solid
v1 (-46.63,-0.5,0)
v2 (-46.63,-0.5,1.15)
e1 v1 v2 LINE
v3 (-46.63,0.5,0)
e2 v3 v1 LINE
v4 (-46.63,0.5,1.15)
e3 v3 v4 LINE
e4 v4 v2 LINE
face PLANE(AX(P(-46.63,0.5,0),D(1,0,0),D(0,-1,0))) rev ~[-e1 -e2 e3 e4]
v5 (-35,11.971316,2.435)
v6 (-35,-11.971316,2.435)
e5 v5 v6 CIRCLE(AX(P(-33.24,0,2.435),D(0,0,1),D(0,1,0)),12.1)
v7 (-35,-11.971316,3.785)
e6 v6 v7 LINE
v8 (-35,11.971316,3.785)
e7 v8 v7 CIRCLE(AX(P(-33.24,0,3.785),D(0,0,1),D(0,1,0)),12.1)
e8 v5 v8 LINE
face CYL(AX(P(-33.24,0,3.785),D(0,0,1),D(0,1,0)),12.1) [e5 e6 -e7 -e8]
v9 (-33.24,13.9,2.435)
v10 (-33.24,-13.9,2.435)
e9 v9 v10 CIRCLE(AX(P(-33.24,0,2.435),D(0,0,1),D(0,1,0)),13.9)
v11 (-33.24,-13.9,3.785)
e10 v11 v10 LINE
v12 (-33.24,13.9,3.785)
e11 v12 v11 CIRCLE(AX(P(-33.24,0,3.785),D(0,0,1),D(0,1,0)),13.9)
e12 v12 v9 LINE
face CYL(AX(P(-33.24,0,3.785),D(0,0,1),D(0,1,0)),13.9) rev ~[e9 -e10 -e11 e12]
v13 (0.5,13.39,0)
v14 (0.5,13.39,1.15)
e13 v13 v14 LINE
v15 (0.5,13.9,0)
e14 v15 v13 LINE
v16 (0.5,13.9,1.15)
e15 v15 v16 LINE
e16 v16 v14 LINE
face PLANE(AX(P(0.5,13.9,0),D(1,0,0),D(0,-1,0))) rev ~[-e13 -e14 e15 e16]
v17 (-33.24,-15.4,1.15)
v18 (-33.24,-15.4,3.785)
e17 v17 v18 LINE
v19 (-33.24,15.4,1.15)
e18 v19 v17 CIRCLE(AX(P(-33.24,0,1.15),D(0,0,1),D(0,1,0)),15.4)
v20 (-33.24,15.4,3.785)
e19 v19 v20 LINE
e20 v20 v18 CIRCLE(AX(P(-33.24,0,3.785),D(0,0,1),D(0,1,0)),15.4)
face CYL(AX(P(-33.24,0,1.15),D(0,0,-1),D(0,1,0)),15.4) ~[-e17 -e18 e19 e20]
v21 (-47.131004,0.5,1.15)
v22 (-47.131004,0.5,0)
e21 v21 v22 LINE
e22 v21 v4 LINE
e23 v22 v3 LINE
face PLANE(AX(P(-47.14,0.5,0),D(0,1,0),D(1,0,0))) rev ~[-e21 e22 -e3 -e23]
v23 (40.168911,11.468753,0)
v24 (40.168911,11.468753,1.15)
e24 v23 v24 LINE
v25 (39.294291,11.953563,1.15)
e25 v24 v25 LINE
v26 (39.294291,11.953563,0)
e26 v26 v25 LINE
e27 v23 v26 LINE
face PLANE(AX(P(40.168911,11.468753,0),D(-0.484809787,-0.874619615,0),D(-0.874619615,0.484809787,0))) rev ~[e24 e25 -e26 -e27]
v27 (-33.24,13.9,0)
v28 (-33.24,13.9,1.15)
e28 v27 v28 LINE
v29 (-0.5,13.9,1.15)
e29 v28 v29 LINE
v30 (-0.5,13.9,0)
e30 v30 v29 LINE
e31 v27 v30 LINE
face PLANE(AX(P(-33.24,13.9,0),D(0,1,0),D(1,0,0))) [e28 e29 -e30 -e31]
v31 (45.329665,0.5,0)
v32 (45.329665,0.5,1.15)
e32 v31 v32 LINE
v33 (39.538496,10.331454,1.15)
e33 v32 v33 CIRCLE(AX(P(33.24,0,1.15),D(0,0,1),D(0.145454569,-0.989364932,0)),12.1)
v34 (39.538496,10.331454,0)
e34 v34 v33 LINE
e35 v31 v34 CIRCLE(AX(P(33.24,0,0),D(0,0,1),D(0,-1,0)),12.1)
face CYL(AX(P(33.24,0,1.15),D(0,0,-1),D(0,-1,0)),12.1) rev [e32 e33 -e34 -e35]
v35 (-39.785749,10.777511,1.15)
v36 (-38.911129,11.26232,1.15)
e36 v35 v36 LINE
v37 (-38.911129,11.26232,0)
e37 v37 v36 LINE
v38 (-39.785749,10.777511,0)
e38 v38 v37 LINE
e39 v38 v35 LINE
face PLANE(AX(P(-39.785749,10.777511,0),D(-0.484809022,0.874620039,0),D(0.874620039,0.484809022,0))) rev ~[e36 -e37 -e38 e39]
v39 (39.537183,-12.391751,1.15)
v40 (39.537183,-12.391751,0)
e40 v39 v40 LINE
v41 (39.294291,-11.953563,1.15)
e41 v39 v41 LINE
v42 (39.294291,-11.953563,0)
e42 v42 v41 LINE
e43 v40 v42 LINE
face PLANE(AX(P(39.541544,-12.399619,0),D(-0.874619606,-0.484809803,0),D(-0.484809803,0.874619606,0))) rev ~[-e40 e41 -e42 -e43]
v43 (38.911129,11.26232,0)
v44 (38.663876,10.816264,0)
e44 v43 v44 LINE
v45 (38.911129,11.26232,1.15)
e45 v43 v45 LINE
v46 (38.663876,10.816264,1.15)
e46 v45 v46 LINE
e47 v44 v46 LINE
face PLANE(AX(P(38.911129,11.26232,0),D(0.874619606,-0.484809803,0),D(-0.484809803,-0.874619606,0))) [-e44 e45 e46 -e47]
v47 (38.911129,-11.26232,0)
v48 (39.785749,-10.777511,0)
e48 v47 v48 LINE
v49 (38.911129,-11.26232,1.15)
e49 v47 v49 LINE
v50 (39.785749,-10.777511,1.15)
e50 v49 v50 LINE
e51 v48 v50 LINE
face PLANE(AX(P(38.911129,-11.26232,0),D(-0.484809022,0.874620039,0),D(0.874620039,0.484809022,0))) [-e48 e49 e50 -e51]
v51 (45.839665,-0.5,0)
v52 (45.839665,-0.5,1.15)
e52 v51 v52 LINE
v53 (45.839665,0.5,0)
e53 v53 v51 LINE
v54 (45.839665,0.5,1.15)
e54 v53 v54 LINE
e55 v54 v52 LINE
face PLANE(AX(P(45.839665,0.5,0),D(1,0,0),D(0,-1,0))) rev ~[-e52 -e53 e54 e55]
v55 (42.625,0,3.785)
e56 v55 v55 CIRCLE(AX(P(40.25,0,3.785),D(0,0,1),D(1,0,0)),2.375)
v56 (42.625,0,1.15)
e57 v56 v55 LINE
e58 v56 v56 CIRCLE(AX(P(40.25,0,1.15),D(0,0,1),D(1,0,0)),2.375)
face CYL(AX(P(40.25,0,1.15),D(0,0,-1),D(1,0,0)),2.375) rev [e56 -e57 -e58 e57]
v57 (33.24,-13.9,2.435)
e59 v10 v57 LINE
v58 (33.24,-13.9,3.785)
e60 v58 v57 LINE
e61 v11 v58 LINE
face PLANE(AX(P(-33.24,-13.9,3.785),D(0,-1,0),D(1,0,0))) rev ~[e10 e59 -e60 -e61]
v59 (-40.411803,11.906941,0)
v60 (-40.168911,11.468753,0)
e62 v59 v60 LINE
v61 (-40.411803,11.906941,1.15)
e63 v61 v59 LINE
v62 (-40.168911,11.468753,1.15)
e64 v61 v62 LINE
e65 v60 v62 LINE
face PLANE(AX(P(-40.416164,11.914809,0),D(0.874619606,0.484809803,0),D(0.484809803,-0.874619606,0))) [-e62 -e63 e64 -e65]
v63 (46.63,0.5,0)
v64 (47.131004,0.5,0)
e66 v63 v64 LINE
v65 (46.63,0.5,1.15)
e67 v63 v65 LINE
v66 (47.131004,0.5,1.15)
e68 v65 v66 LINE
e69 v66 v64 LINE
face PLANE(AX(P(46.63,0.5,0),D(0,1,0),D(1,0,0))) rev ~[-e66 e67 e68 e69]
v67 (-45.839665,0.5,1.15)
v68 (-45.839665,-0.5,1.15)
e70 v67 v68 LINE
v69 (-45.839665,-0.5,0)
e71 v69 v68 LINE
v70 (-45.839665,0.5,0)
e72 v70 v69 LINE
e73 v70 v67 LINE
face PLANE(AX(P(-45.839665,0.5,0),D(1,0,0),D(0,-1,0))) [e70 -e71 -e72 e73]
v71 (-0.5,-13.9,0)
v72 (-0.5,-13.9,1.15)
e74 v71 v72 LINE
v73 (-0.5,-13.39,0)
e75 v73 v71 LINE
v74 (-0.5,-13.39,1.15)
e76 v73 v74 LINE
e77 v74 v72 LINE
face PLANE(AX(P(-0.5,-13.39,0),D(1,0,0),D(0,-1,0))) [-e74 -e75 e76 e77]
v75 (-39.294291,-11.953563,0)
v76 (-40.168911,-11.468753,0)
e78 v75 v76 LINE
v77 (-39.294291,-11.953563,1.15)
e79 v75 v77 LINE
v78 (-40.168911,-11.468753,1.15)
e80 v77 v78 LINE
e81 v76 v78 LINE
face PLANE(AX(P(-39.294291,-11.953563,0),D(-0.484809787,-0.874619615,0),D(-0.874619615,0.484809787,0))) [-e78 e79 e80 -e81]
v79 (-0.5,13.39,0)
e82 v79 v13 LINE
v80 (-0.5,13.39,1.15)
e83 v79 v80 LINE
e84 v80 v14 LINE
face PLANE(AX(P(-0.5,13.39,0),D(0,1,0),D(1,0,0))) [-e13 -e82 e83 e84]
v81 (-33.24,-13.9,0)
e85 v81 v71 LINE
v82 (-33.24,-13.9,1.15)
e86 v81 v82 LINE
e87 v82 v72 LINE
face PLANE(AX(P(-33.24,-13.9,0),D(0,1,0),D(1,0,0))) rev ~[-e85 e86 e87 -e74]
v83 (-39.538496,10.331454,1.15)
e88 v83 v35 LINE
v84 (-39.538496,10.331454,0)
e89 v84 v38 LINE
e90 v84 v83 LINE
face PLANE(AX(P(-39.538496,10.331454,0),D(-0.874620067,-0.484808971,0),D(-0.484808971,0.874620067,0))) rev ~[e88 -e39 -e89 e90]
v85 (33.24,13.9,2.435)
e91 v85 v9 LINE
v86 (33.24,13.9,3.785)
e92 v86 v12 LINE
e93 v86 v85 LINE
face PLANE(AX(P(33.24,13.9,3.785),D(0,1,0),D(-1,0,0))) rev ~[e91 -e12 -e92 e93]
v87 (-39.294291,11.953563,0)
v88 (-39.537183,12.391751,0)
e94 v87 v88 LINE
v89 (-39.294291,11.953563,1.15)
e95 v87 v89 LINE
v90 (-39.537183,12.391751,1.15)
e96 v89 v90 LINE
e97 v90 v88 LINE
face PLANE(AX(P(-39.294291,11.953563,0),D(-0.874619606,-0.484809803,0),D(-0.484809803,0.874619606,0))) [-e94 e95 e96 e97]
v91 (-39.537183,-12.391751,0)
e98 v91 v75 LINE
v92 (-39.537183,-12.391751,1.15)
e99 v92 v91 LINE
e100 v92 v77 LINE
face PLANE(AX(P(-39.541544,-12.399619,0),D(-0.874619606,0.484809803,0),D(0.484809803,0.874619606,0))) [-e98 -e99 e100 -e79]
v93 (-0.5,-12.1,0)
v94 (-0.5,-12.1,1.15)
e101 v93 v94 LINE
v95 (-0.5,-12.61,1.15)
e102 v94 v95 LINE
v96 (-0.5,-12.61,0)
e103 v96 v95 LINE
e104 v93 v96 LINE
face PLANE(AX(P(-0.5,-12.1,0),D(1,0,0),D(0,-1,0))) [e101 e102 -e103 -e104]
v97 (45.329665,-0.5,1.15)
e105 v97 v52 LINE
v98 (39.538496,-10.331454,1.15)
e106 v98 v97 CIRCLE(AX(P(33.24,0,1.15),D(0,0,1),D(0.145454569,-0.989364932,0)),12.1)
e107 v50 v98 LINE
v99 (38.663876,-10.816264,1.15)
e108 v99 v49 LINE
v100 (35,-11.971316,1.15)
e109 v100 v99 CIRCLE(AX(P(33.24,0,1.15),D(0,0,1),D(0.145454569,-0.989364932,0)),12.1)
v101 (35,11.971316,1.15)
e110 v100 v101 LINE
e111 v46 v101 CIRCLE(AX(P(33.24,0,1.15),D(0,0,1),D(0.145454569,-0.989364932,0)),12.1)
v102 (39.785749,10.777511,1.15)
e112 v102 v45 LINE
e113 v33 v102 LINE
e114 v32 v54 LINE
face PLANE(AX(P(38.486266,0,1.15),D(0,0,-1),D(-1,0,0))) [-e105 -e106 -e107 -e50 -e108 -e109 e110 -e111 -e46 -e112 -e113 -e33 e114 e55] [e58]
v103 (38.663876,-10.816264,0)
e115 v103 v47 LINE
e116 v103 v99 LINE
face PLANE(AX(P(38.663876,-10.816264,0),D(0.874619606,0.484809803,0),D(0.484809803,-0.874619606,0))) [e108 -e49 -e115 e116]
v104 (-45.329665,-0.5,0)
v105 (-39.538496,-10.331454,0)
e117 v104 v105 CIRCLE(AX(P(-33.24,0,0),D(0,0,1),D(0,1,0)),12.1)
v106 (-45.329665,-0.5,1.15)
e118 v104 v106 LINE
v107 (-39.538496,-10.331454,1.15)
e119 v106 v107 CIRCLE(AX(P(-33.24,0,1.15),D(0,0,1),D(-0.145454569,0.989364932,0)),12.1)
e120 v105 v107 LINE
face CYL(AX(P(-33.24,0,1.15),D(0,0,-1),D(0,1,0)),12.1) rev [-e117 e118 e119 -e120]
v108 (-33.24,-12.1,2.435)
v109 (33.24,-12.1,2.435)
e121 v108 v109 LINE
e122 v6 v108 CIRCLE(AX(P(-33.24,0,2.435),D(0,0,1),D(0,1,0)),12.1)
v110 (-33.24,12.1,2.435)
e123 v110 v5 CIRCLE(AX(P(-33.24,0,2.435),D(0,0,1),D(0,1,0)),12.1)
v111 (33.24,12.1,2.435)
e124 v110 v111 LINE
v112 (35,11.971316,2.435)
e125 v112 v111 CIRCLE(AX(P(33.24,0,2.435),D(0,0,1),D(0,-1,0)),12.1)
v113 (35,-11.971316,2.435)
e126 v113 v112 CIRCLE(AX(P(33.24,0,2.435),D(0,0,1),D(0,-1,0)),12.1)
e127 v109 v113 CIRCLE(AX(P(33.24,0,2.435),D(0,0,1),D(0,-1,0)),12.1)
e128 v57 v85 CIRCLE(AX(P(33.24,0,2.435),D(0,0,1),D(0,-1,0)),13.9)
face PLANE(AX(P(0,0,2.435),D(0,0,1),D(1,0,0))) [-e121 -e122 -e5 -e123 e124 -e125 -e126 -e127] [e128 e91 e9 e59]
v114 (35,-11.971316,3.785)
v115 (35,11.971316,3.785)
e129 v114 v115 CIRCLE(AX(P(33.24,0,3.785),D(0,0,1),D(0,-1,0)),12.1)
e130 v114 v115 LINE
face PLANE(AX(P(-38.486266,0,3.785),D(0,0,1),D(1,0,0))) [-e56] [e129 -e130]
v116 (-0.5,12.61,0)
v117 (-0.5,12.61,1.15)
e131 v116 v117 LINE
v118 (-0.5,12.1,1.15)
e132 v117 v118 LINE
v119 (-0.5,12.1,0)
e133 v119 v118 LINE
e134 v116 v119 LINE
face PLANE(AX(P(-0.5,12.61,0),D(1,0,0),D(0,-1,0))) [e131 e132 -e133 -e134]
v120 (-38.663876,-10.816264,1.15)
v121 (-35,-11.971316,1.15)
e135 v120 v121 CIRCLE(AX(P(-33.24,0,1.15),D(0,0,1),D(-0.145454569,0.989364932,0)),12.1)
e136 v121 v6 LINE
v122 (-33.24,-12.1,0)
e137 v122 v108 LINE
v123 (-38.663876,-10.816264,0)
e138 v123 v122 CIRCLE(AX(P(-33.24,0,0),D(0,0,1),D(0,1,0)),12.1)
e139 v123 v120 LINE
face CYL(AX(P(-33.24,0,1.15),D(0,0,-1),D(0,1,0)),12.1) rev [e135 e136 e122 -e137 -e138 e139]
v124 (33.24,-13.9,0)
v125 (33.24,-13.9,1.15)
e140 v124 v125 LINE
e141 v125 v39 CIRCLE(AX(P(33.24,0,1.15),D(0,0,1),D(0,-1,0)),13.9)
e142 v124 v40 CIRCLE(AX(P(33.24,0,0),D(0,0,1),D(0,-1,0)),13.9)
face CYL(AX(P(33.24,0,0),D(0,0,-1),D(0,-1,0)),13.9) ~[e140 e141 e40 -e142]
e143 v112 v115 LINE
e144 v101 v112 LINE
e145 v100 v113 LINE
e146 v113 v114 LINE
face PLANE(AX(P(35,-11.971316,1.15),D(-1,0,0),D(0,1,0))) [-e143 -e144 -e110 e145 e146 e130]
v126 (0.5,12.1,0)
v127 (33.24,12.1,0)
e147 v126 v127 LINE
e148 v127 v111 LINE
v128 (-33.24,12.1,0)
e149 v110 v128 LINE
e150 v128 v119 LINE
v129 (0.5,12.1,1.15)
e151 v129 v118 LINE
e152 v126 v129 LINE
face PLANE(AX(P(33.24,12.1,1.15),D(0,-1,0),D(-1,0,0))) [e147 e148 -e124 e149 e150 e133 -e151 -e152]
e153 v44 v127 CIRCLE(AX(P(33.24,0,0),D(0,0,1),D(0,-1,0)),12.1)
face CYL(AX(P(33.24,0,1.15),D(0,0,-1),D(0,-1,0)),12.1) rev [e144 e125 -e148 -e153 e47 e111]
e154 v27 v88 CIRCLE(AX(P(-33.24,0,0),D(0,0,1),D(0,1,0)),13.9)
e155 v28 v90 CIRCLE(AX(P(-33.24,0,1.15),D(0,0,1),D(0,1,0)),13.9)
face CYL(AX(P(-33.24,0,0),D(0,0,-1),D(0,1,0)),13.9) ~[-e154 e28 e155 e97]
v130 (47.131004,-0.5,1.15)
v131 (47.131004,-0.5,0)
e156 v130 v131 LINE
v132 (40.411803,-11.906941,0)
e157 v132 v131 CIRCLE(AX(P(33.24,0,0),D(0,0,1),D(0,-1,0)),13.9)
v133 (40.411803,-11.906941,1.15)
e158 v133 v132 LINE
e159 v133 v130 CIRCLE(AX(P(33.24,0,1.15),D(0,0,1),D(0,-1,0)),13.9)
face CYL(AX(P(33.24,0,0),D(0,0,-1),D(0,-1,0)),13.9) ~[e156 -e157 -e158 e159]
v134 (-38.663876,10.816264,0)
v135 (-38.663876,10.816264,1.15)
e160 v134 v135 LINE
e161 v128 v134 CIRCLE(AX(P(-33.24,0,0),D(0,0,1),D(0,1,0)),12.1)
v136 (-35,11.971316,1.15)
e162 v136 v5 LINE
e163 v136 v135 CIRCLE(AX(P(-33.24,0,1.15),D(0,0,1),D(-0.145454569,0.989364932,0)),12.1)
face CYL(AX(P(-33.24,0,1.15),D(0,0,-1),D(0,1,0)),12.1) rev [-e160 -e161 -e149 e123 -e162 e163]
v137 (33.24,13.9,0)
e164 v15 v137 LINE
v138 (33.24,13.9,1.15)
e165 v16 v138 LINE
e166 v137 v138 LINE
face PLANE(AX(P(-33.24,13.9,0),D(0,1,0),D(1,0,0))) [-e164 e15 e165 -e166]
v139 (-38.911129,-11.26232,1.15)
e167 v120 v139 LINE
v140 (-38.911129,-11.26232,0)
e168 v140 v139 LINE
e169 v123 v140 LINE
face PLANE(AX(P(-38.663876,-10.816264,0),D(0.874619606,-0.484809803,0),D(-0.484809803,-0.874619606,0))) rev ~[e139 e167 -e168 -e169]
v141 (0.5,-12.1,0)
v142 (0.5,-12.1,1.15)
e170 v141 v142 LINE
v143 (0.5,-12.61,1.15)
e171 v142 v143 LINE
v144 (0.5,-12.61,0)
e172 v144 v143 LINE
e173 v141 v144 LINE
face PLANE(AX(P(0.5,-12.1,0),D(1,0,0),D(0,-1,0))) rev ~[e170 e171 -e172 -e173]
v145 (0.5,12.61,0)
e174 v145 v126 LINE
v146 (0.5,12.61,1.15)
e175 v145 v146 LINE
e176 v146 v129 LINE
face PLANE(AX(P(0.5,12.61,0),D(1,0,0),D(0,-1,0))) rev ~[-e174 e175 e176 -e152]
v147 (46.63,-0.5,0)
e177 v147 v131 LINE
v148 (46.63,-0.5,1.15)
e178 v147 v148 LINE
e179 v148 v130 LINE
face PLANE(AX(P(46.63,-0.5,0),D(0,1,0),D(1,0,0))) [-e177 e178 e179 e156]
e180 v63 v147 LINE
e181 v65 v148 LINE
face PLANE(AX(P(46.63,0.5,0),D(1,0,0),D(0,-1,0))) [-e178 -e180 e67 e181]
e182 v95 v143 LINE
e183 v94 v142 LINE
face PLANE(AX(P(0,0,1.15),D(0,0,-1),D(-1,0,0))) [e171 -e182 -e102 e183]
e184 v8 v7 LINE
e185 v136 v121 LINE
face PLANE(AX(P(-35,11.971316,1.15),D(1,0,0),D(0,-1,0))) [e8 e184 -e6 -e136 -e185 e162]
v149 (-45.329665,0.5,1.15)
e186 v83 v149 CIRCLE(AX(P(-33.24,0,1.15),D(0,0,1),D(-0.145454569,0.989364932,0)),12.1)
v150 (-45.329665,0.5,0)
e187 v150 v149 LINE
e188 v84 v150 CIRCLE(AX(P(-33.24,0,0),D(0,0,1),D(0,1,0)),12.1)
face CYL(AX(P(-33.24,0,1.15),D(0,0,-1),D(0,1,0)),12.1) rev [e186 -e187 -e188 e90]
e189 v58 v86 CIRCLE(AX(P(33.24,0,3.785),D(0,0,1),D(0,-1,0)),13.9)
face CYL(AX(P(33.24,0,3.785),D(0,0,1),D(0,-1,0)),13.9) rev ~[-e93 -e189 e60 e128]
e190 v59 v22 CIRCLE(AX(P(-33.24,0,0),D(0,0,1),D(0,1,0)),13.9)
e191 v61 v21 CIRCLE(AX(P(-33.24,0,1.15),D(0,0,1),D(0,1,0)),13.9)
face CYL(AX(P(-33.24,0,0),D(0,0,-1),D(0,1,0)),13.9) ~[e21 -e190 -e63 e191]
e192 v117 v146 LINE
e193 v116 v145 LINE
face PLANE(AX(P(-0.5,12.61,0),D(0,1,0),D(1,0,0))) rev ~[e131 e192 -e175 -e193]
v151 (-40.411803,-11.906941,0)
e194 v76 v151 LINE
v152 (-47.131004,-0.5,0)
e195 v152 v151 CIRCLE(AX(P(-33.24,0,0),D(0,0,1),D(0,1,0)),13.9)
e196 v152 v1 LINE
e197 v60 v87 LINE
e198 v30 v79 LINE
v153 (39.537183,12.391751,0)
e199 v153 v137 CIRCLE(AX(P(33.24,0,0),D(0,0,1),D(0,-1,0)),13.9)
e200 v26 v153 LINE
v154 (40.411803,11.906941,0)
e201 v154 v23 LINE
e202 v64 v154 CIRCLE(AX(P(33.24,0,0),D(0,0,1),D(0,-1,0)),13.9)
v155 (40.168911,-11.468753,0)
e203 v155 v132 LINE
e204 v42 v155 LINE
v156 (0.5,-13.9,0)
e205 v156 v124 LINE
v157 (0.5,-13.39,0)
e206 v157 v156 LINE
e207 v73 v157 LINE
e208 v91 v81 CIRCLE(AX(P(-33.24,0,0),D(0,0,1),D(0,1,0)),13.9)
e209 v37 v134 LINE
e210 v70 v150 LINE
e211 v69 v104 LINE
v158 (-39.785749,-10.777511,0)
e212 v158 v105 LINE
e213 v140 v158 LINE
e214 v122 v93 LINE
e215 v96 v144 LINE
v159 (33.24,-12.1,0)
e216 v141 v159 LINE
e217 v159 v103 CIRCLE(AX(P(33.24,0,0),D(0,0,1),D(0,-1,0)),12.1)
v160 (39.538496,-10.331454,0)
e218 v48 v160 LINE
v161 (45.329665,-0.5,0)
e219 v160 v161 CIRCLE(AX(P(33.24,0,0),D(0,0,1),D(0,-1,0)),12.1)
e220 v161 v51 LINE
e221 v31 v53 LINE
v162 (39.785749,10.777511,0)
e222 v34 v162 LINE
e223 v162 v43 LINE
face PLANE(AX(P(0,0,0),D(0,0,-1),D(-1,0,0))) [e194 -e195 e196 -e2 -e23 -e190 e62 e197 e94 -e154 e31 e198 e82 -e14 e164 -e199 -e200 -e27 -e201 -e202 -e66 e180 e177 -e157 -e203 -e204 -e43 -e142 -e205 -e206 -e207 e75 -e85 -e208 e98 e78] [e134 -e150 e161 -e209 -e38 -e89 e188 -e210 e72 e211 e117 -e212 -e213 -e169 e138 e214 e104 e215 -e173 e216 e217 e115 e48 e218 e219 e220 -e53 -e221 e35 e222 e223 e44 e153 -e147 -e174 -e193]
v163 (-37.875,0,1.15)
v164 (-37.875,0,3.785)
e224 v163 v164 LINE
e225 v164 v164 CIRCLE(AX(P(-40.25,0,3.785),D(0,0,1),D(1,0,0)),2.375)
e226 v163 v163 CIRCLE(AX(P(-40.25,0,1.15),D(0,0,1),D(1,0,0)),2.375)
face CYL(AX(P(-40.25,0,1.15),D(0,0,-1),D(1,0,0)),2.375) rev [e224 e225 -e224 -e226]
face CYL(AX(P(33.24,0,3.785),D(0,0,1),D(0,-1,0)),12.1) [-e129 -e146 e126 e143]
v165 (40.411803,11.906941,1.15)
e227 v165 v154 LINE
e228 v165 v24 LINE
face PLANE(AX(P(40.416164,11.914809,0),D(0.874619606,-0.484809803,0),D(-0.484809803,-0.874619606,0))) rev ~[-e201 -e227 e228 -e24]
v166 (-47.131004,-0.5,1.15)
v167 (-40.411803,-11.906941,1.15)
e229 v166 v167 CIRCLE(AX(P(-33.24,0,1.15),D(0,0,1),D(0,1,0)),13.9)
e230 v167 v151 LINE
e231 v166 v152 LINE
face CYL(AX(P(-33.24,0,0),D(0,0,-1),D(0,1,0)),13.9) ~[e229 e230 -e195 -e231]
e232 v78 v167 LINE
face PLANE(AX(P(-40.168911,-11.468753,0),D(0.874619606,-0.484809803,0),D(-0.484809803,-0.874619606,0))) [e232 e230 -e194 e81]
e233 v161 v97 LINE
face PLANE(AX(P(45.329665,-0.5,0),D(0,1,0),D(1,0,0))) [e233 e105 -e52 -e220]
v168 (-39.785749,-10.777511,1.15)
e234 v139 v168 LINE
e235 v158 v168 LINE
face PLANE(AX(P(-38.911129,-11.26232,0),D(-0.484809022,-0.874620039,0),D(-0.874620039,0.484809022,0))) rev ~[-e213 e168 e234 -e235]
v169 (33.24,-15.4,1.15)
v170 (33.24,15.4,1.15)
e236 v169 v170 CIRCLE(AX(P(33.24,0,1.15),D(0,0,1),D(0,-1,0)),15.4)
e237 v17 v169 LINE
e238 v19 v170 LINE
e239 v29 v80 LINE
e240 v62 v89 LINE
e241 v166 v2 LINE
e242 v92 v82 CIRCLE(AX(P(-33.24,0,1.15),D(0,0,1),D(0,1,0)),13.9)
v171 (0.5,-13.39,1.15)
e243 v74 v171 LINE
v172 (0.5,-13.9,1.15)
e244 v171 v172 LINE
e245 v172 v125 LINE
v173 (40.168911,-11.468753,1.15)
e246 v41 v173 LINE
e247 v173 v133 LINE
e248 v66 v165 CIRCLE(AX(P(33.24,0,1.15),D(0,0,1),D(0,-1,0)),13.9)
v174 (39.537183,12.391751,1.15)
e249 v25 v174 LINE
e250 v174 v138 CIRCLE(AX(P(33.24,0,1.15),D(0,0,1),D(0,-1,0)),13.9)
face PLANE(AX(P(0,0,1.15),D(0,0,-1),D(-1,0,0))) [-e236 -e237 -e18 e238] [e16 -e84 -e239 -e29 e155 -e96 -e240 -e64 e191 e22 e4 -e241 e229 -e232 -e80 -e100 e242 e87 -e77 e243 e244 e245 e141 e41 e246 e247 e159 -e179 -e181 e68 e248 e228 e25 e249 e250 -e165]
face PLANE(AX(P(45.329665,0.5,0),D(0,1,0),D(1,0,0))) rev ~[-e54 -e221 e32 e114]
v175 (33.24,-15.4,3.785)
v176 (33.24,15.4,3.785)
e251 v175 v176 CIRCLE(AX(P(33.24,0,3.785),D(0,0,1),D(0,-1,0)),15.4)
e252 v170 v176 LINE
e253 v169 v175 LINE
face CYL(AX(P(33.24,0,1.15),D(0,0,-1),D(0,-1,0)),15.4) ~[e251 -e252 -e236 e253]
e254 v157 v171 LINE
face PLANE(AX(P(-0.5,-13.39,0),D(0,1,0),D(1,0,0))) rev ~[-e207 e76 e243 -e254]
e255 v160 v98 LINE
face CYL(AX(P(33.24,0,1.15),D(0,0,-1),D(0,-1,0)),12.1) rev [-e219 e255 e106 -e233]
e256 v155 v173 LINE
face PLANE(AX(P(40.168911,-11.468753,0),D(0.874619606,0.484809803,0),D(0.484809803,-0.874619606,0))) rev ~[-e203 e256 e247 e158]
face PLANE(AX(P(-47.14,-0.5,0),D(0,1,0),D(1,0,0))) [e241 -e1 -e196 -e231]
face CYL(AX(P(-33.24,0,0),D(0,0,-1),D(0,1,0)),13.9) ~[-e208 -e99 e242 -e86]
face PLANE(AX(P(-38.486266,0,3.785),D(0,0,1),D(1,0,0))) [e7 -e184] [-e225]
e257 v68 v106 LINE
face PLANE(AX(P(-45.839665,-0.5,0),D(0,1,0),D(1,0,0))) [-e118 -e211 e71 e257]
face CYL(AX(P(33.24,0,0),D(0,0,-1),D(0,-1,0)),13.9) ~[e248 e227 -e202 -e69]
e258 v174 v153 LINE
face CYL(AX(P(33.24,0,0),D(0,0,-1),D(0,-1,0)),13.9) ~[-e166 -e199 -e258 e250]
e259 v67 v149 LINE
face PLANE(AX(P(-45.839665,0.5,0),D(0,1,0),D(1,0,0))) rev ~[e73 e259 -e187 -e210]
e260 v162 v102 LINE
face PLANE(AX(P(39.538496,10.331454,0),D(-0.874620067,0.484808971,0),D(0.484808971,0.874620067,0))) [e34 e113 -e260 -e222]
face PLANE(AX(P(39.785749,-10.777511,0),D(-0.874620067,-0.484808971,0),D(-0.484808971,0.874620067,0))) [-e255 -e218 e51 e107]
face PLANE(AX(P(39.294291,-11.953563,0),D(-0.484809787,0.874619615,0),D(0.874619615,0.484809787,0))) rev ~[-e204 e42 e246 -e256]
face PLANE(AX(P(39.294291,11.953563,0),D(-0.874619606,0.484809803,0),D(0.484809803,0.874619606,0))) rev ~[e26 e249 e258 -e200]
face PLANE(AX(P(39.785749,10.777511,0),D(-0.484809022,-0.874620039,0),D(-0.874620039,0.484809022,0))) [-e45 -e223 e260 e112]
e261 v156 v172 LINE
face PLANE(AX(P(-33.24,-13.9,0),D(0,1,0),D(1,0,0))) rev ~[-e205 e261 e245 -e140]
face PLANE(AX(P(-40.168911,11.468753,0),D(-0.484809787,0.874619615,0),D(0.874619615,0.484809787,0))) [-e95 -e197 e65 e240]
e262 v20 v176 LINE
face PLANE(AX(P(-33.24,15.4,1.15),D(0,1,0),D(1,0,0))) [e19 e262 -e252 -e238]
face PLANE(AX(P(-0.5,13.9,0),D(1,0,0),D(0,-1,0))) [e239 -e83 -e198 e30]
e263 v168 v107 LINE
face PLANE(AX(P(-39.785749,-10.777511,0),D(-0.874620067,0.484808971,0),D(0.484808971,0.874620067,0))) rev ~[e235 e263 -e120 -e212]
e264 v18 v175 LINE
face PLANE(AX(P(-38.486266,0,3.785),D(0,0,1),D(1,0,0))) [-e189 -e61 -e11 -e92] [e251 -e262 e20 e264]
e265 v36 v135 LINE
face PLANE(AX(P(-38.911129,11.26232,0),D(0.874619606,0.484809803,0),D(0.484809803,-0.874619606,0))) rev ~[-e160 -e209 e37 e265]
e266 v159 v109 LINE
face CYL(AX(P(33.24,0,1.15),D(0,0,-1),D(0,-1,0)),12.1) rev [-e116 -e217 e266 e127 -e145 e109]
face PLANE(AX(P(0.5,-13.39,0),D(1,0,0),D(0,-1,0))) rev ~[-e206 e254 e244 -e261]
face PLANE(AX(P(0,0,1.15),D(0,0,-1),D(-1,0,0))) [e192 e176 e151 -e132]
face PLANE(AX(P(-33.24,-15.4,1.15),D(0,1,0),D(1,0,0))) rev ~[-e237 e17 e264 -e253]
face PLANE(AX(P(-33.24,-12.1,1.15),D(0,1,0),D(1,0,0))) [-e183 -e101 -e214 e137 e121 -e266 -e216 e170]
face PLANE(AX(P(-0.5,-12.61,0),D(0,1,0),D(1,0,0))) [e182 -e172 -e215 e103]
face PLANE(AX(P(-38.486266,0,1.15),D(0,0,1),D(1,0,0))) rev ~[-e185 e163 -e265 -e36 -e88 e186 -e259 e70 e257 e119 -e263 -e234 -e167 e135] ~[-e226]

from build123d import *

# Parameters (mm, degrees)
PAD_DEPTH       = 1.15
SKETCH001_W     = 1
SKETCH001_H     = 0.51
SKETCH001_W_2   = 0.51
SKETCH001_H_2   = 1
POCKET_DEPTH    = 1.15
PAD001_DEPTH    = 2.635
SKETCH003_R     = 2.375
PAD002_DEPTH    = 2.635
POCKET001_DEPTH = 1.35


with BuildPart() as part:
    # Sketch → Pad (new body)
    with BuildSketch(Plane.XY):
        with BuildLine():
            Line((-33.24, 13.9), (33.24, 13.9))
            ThreePointArc((33.24, -13.9), (47.14, 0), (33.24, 13.9))
            Line((-33.24, -13.9), (33.24, -13.9))
            ThreePointArc((-33.24, 13.9), (-47.14, 0), (-33.24, -13.9))
        make_face()
        with BuildLine():
            Line((-33.24, 12.1), (33.24, 12.1))
            ThreePointArc((33.24, -12.1), (45.34, 0), (33.24, 12.1))
            Line((-33.24, -12.1), (33.24, -12.1))
            ThreePointArc((-33.24, 12.1), (-45.34, 0), (-33.24, -12.1))
        make_face(mode=Mode.SUBTRACT)
    extrude(amount=PAD_DEPTH)

    # Sketch001 (on Face9 of Pad) → Pocket (cut)
    with BuildSketch(Plane(origin=(0, 0, 0), x_dir=(1, 0, 0), z_dir=(0, 0, -1))):
        with Locations((0, 12.355)):
            Rectangle(SKETCH001_W, SKETCH001_H)
        with Locations((0, 13.645)):
            Rectangle(SKETCH001_W, SKETCH001_H)
        with Locations((0, -12.355)):
            Rectangle(SKETCH001_W, SKETCH001_H)
        with Locations((0, -13.645)):
            Rectangle(SKETCH001_W, SKETCH001_H)
        with Locations((45.584665, 0)):
            Rectangle(SKETCH001_W_2, SKETCH001_H_2)
        with Locations((46.885, 0)):
            Rectangle(SKETCH001_W_2, SKETCH001_H_2)
        with Locations((-45.584665, 0)):
            Rectangle(SKETCH001_W_2, SKETCH001_H_2)
        with Locations((-46.885, 0)):
            Rectangle(SKETCH001_W_2, SKETCH001_H_2)
        Polygon((39.538496, 10.331454), (38.663876, 10.816264), (38.911129, 11.26232), (39.785749, 10.777511), align=None)
        Polygon((40.416164, 11.914809), (39.541544, 12.399619), (39.294291, 11.953563), (40.168911, 11.468753), align=None)
        Polygon((38.663876, -10.816264), (39.538496, -10.331454), (39.785749, -10.777511), (38.911129, -11.26232), align=None)
        Polygon((39.541544, -12.399619), (40.416164, -11.914809), (40.168911, -11.468753), (39.294291, -11.953563), align=None)
        Polygon((-39.538496, 10.331454), (-38.663876, 10.816264), (-38.911129, 11.26232), (-39.785749, 10.777511), align=None)
        Polygon((-40.416164, 11.914809), (-39.541544, 12.399619), (-39.294291, 11.953563), (-40.168911, 11.468753), align=None)
        Polygon((-39.541544, -12.399619), (-40.416164, -11.914809), (-40.168911, -11.468753), (-39.294291, -11.953563), align=None)
        Polygon((-38.663876, -10.816264), (-39.538496, -10.331454), (-39.785749, -10.777511), (-38.911129, -11.26232), align=None)
    extrude(amount=-POCKET_DEPTH, mode=Mode.SUBTRACT)

    # Sketch002 (on Face4 of Pocket) → Pad001 (join)
    with BuildSketch(Plane.XY.offset(1.15)):
        with BuildLine():
            Line((-33.24, 15.4), (33.24, 15.4))
            ThreePointArc((33.24, -15.4), (48.64, 0), (33.24, 15.4))
            Line((-33.24, -15.4), (33.24, -15.4))
            ThreePointArc((-33.24, 15.4), (-48.64, 0), (-33.24, -15.4))
        make_face()
        with BuildLine():
            ThreePointArc((-33.24, 12.1), (-45.34, 0), (-33.24, -12.1))
            Line((-33.24, -12.1), (33.24, -12.1))
            ThreePointArc((33.24, -12.1), (45.34, 0), (33.24, 12.1))
            Line((33.24, 12.1), (-33.24, 12.1))
        make_face(mode=Mode.SUBTRACT)
    extrude(amount=PAD001_DEPTH)

    # Sketch003 (on Face4 of Pocket) → Pad002 (join)
    with BuildSketch(Plane.XY.offset(1.15)):
        with BuildLine():
            ThreePointArc((-35, 11.971316), (-45.34, 0), (-35, -11.971316))
            Line((-35, 11.971316), (-35, -11.971316))
        make_face()
        with Locations((-40.25, 0)):
            Circle(SKETCH003_R, mode=Mode.SUBTRACT)
        with BuildLine():
            Line((35, -11.971316), (35, 11.971316))
            ThreePointArc((35, -11.971316), (45.34, 0), (35, 11.971316))
        make_face()
        with Locations((40.25, 0)):
            Circle(SKETCH003_R, mode=Mode.SUBTRACT)
    extrude(amount=PAD002_DEPTH)

    # Sketch004 (on Face95 of Pad002) → Pocket001 (cut)
    with BuildSketch(Plane.XY.offset(3.785)):
        with BuildLine():
            ThreePointArc((-33.24, 13.9), (-47.14, 0), (-33.24, -13.9))
            Line((-33.24, -13.9), (33.24, -13.9))
            ThreePointArc((33.24, -13.9), (47.14, 0), (33.24, 13.9))
            Line((33.24, 13.9), (-33.24, 13.9))
        make_face()
        with BuildLine():
            ThreePointArc((-33.24, 12.1), (-45.34, 0), (-33.24, -12.1))
            Line((-33.24, -12.1), (33.24, -12.1))
            ThreePointArc((33.24, -12.1), (45.34, 0), (33.24, 12.1))
            Line((-33.24, 12.1), (33.24, 12.1))
        make_face(mode=Mode.SUBTRACT)
    extrude(amount=-POCKET001_DEPTH, mode=Mode.SUBTRACT)


solid = part.part
